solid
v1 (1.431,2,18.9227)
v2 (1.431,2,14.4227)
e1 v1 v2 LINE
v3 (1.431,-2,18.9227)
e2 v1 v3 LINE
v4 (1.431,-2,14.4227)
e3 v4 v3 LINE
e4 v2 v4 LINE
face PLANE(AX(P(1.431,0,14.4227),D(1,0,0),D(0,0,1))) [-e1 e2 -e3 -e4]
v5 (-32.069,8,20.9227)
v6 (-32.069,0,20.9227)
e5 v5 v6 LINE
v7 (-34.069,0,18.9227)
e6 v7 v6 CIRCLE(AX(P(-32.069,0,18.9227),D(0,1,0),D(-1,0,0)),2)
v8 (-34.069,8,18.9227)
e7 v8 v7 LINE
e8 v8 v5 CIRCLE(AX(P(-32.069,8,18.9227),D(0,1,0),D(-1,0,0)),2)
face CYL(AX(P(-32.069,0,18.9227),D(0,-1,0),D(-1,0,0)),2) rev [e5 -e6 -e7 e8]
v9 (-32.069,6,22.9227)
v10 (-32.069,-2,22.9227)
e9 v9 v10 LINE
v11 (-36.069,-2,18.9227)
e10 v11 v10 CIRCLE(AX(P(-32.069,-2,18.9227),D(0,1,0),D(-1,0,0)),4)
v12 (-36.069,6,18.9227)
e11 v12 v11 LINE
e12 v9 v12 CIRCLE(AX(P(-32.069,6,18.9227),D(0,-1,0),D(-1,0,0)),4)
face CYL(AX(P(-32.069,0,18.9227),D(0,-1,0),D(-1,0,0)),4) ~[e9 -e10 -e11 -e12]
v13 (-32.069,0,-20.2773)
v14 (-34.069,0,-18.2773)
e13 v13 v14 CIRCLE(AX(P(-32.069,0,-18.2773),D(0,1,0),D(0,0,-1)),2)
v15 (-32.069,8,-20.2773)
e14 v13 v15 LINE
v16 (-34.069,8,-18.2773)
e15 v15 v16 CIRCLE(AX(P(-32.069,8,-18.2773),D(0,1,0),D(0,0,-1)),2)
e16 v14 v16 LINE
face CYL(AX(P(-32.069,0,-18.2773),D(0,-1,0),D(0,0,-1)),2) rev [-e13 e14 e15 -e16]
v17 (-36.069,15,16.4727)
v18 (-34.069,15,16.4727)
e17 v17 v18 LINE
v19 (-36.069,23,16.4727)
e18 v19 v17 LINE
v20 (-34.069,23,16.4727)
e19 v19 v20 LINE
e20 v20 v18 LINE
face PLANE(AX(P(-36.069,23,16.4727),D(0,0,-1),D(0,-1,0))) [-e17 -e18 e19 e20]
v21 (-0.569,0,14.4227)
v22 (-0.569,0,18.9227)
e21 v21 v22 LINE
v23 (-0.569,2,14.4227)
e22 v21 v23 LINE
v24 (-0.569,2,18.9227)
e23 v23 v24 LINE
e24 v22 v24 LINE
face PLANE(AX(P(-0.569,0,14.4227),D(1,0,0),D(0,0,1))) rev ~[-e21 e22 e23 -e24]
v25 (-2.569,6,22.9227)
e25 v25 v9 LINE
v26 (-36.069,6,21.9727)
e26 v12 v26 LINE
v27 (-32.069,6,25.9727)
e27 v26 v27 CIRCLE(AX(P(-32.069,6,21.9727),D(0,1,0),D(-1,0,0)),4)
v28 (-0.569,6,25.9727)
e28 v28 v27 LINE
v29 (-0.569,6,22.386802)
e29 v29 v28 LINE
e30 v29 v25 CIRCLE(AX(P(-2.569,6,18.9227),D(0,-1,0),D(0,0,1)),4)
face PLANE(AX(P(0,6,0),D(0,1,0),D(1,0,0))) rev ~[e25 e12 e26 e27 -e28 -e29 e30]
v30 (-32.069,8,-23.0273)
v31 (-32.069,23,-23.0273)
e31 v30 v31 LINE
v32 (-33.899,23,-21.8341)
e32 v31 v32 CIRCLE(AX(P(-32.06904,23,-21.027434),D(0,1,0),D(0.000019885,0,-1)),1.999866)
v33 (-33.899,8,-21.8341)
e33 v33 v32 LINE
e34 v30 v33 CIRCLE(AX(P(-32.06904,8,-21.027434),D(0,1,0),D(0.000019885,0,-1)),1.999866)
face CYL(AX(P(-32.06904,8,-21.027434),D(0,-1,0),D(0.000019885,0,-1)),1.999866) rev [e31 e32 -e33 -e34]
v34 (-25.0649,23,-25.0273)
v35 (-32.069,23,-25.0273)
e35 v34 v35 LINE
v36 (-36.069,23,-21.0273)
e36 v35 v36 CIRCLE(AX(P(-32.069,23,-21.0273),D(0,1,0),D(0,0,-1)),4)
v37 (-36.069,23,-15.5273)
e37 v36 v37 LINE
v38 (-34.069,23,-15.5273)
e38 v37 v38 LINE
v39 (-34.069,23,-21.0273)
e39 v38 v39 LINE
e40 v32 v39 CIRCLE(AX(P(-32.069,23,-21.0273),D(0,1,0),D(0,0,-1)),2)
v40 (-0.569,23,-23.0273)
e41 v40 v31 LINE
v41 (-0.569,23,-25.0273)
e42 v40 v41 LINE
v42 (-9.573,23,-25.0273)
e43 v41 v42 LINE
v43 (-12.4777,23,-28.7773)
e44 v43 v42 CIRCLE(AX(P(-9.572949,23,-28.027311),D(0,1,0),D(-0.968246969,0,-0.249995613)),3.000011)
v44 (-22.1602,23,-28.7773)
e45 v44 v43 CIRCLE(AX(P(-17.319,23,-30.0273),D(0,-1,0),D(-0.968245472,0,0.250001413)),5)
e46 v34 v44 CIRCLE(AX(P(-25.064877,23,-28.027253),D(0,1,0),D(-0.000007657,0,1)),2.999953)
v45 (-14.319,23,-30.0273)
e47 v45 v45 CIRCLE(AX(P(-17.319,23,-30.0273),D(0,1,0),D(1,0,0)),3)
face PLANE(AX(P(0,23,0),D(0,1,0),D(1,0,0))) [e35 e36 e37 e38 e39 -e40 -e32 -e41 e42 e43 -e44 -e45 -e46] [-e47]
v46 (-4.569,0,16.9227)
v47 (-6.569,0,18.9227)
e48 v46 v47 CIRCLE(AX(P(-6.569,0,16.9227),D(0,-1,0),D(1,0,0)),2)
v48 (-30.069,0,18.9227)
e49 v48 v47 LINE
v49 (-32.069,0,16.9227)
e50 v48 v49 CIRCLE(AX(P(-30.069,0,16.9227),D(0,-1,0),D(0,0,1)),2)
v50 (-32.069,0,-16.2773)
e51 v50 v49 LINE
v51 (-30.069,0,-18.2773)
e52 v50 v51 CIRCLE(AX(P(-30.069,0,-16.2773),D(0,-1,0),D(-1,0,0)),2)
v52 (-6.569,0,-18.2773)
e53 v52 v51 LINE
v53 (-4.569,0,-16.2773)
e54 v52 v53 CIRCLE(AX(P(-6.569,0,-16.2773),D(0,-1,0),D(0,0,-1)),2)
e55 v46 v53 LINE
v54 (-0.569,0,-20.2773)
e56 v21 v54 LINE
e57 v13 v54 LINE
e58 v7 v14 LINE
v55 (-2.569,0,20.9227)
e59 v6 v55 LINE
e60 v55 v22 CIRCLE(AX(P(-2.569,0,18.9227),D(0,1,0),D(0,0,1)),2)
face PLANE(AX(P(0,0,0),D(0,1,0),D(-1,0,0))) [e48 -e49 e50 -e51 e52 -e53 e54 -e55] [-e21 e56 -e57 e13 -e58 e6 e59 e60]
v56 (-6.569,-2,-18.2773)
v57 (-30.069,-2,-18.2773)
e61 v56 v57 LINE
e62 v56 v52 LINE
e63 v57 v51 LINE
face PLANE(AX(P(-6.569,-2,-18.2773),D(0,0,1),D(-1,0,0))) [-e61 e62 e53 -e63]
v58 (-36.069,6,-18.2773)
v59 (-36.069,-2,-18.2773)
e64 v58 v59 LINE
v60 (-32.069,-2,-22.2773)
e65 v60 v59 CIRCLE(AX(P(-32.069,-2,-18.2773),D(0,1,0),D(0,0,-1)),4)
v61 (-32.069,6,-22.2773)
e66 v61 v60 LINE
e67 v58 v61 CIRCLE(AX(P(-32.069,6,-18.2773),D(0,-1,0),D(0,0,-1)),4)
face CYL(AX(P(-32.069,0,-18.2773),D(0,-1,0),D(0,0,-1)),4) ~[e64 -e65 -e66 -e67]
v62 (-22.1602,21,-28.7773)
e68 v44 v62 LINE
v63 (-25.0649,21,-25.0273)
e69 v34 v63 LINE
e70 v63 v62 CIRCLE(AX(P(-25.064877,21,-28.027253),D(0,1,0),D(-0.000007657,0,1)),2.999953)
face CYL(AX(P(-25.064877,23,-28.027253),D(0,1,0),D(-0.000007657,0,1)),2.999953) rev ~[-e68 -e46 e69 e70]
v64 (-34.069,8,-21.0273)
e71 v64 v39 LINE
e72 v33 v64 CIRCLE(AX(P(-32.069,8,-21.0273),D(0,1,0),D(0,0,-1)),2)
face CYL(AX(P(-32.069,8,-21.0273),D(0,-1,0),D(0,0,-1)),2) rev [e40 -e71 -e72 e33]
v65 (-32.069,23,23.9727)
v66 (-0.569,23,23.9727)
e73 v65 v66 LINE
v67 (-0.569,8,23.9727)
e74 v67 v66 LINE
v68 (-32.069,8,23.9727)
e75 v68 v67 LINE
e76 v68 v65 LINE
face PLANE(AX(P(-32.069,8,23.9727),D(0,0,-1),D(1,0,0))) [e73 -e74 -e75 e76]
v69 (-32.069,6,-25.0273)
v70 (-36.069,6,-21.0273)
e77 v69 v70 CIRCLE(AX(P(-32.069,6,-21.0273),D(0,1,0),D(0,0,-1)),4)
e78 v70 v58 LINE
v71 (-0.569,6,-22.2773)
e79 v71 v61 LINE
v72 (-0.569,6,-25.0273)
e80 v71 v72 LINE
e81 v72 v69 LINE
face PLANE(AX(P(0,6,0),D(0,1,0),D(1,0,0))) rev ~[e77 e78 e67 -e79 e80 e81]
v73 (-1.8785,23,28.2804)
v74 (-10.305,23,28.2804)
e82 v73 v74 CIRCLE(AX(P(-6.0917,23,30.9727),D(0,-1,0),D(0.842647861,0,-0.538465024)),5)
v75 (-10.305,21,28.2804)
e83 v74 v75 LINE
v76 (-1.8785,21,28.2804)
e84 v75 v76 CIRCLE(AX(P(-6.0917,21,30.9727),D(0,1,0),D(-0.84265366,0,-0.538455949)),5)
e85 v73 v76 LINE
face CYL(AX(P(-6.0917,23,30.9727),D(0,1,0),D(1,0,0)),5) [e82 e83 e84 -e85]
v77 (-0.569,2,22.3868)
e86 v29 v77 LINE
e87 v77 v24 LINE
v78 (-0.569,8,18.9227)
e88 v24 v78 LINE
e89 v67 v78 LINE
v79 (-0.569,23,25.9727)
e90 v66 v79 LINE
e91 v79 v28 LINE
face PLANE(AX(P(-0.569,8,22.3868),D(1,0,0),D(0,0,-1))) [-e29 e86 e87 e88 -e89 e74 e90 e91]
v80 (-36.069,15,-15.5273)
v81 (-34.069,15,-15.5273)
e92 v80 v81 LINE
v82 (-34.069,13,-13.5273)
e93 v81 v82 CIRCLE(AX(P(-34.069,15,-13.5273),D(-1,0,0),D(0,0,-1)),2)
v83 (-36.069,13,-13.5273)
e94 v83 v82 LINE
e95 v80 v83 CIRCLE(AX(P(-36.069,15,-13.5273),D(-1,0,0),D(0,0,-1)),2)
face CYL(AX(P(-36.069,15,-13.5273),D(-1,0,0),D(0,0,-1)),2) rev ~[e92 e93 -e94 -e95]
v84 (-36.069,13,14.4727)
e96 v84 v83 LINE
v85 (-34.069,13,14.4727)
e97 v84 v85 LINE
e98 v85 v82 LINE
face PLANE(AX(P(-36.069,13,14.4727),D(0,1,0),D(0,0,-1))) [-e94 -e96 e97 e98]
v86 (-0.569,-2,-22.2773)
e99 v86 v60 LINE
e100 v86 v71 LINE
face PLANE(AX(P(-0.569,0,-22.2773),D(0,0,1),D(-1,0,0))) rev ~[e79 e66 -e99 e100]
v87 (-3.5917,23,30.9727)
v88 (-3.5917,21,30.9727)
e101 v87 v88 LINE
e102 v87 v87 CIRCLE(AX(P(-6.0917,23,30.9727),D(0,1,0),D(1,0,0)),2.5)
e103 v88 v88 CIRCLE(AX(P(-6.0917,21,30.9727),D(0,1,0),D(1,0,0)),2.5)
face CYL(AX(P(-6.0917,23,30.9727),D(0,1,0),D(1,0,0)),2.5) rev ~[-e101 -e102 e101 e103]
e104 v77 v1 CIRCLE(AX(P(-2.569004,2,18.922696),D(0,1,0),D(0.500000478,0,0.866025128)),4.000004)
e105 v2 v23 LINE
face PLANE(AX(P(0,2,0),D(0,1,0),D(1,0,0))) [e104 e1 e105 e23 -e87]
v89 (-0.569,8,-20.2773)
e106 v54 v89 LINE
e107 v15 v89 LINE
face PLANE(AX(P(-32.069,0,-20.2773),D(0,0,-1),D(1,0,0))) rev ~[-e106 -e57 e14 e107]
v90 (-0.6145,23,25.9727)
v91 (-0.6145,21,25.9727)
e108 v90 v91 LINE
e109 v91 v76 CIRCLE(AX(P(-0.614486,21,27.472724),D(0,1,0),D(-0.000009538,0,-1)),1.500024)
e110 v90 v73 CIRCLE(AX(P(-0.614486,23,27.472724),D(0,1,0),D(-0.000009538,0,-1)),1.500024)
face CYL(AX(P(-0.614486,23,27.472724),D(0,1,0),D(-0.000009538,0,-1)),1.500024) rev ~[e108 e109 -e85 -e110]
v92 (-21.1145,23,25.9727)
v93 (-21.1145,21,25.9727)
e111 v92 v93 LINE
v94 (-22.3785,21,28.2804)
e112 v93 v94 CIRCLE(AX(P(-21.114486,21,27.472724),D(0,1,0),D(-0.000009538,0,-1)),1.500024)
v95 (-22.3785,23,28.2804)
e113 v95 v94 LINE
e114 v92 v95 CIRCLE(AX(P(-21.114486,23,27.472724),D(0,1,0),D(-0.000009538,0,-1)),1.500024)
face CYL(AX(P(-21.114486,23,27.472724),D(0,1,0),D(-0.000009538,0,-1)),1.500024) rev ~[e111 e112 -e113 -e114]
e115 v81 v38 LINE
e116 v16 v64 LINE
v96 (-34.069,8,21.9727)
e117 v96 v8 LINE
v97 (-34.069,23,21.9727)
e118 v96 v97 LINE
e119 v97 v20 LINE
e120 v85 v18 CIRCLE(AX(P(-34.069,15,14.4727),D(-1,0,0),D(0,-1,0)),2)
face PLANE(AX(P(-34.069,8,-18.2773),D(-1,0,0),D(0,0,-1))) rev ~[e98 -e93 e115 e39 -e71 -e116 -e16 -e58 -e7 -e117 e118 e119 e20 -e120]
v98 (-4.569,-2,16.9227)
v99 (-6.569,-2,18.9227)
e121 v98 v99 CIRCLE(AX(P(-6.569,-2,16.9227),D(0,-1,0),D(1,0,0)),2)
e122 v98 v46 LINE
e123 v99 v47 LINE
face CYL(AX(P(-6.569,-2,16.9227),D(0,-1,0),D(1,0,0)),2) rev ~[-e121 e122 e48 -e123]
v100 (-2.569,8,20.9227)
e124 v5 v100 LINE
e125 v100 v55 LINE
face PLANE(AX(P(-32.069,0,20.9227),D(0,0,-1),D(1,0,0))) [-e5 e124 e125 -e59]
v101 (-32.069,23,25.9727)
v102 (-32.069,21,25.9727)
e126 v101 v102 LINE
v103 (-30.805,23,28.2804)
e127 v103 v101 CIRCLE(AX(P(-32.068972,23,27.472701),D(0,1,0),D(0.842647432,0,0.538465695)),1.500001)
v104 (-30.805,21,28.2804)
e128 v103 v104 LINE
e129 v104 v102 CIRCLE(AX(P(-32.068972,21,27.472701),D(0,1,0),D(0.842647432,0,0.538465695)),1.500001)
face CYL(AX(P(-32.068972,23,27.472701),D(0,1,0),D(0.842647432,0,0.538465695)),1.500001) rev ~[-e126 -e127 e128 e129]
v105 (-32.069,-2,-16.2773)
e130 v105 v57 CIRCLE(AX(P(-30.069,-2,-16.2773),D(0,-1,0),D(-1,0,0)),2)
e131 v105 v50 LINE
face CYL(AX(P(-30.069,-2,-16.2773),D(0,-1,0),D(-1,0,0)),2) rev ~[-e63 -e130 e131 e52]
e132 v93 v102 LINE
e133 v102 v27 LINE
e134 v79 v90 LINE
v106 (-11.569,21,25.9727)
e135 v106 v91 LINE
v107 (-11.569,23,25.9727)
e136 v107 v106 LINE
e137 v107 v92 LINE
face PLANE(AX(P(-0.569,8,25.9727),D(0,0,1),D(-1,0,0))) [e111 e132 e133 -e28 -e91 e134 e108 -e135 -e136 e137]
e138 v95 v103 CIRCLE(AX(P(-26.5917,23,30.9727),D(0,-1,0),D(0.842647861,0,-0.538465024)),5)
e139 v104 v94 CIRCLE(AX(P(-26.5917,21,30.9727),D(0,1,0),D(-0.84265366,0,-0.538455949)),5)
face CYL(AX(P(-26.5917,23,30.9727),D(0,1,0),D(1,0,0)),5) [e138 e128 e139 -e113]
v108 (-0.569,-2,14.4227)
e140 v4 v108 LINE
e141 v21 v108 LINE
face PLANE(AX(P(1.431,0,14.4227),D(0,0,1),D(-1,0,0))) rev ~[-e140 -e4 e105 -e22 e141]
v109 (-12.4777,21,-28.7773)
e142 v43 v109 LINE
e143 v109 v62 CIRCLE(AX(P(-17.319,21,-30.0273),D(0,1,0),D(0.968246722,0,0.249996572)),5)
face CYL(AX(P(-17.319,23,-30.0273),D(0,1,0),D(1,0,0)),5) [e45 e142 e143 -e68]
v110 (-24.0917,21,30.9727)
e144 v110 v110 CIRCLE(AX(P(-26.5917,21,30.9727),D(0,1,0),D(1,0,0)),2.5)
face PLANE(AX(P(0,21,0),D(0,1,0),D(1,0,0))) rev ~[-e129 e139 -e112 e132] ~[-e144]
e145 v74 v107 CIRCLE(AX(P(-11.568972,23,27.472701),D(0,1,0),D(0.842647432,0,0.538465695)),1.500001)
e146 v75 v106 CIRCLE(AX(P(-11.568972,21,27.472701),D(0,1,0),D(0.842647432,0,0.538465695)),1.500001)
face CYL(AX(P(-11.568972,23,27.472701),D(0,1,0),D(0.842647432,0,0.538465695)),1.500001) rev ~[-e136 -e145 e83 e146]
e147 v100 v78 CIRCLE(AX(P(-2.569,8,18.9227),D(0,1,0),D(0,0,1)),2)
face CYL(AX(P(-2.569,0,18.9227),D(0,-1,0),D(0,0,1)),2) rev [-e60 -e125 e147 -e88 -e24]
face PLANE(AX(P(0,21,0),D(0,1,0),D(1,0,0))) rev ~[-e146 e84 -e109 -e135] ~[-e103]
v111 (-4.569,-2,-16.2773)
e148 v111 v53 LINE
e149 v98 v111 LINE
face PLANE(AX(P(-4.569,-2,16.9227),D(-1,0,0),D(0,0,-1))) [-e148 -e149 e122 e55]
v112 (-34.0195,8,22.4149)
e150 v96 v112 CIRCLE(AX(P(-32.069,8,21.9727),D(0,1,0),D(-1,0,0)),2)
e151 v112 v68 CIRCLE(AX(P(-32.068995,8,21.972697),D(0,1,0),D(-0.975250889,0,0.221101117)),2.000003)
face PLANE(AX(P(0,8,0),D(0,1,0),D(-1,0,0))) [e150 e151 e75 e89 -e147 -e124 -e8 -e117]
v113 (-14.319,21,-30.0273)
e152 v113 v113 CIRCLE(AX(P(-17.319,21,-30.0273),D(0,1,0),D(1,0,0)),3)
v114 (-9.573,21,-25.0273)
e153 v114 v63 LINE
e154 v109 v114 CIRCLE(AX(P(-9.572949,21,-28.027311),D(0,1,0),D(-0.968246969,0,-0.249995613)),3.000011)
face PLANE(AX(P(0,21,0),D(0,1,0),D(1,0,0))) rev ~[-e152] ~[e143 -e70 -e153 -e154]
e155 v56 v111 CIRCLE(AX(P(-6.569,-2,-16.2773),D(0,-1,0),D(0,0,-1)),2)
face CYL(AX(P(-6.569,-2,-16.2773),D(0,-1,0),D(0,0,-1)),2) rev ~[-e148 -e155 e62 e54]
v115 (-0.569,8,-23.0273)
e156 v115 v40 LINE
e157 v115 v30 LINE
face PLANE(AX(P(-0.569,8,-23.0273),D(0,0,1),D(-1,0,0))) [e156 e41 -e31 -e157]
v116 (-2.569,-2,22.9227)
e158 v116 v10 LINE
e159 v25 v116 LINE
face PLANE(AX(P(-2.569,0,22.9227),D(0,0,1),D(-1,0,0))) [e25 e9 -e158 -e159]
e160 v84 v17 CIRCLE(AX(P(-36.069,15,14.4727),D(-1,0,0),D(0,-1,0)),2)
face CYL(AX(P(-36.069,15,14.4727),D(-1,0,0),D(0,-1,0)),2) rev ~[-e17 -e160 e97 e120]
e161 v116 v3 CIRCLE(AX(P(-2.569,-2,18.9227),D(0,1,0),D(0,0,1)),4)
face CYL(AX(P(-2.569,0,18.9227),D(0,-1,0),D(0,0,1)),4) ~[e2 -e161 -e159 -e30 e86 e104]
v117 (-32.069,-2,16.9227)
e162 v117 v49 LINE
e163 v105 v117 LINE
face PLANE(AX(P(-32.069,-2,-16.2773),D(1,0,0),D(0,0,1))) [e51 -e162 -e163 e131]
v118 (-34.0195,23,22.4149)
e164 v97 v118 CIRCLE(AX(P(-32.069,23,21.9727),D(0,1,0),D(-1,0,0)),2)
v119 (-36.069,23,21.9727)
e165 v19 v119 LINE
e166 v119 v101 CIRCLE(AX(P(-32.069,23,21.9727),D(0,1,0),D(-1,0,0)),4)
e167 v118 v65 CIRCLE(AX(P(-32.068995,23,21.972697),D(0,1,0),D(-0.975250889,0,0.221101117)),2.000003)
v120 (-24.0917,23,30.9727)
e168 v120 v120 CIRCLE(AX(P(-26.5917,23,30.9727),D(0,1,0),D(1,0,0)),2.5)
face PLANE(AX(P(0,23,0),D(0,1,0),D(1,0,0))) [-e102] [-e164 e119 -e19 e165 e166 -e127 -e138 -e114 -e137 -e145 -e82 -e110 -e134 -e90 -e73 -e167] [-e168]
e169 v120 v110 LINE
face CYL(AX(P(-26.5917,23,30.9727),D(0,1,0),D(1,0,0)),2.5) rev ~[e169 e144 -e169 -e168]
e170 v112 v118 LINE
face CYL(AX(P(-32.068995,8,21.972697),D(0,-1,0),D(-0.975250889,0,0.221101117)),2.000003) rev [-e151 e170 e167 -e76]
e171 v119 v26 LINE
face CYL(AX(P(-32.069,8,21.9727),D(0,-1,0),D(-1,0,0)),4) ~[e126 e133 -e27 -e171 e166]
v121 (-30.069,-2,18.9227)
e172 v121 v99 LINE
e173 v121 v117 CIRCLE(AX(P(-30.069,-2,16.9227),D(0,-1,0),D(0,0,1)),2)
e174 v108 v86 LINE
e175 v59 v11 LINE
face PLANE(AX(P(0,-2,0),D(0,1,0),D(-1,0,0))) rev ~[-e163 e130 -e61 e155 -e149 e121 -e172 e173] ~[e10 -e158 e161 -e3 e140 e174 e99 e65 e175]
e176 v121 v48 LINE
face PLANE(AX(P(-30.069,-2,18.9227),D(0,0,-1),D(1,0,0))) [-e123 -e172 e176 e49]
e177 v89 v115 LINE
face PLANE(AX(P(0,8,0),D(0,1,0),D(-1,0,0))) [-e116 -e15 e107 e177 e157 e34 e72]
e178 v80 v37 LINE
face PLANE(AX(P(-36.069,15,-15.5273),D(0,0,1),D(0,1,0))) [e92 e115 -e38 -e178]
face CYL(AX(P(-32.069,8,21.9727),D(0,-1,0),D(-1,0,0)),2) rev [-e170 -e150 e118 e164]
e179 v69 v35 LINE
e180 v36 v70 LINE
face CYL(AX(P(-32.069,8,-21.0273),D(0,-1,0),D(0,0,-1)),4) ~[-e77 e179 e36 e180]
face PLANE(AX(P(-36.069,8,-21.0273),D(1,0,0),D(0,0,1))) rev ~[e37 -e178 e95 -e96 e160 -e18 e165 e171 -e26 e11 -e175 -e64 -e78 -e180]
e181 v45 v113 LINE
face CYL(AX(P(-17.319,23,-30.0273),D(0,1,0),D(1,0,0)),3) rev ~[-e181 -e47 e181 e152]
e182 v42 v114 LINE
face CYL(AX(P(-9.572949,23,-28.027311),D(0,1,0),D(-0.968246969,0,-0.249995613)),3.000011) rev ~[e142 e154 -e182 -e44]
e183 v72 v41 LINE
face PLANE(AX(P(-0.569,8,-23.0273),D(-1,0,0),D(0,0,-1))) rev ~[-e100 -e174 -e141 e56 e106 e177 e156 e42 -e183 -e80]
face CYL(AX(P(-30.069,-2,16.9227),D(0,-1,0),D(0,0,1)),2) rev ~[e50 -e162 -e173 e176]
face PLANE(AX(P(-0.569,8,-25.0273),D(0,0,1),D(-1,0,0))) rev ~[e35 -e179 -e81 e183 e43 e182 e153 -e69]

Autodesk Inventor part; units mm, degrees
ref_plane "YZ Plane" through (0, 0, 0) normal (1, 0, 0) x (0, 1, 0)
ref_plane "XZ Plane" through (0, 0, 0) normal (0, 1, 0) x (-1, 0, 0)
sketch "Sketch1" plane through (0, 0, 0) normal (0, 1, 0) x (-1, 0, 0)
  arc A0 (31.569, 13.7227) -> (30.069, 12.2227) centre (31.569, 12.2227) ccw
  line L0 (31.569, 13.7227) -> (34.069, 13.7227)
  line L1 (34.069, 13.7227) -> (34.069, 18.9227)
  line L2 (32.069, 20.9227) -> (2.569, 20.9227)
  line L3 (34.069, -13.2773) -> (31.569, -13.2773)
  arc A1 (30.069, -11.7773) -> (31.569, -13.2773) centre (31.569, -11.7773) ccw
  arc A2 (34.069, 18.9227) -> (32.069, 20.9227) centre (32.069, 18.9227) ccw
  arc A3 (34.0195, 22.4149) -> (32.069, 23.9727) centre (32.069, 21.9727) ccw
  line L4 (32.069, 23.9727) -> (-23.931, 23.9727)
  arc A4 (-23.931, 23.9727) -> (-25.931, 21.9727) centre (-23.931, 21.9727) ccw
  line L5 (-25.931, 21.9727) -> (-25.931, -21.0273)
  arc A5 (-25.931, -21.0273) -> (-23.931, -23.0273) centre (-23.931, -21.0273) ccw
  line L6 (-23.931, -23.0273) -> (32.069, -23.0273)
  arc A6 (32.069, -23.0273) -> (33.899, -21.8341) centre (32.069, -21.0273) ccw
  arc A7 (32.069, -20.2773) -> (34.069, -18.2773) centre (32.069, -18.2773) ccw
  line L7 (32.069, -20.2773) -> (0.569, -20.2773)
  line L8 (34.069, -13.2773) -> (34.069, 13.7227)
  line L9 (0.569, -22.2773) -> (0.569, 18.9227)
  line L10 (30.069, -11.7773) -> (30.069, 12.2227)
  line L11 (34.069, -18.2773) -> (34.069, -13.2773)
  line L12 (2.569, 22.9227) -> (32.069, 22.9227)
  line L13 (0.569, -22.2773) -> (32.069, -22.2773)
  arc A8 (32.069, -22.2773) -> (36.069, -18.2773) centre (32.069, -18.2773) ccw
  line L14 (36.069, -18.2773) -> (36.069, 18.9227)
  arc A9 (2.569, 20.9227) -> (0.569, 18.9227) centre (2.569, 18.9227) ccw
  line L15 (-1.431, 14.4227) -> (-1.431, 18.9227)
  arc A10 (2.569, 22.9227) -> (-1.431, 18.9227) centre (2.569, 18.9227) ccw
  arc A11 (36.069, 18.9227) -> (32.069, 22.9227) centre (32.069, 18.9227) ccw
  line L16 (-1.431, 14.4227) -> (0.569, 14.4227)
  point P0 (0.569, 20.9227)
  dimension "d8" = 2
  dimension "d9" = 2
  dimension "d66" = 2
  dimension "d67" = 2
  dimension "d68" = 4.5
  dimension "d69" = 4
extrude "Extrusion3" add sketch "Sketch1" against normal blind 2 contours L0 L8 L3 A1 L10 A0 | A0 L10 A1 L3 L11 A7 L7 L9 A9 L2 A2 L1 L0 | L1 A2 L2 A9 L9 L16 L15 A10 L12 A11 L14 A8 L13 L7 A7 L11 L8
ref_plane "Work Plane1" through (0, 8, 0) normal (0, 1, 0) x (1, 0, 0)
extrude "Extrusion4" add sketch "Sketch1" along normal blind 8 contours L1 A2 L2 A9 L9 L16 L15 A10 L12 A11 L14 A8 L13 L7 A7 L11 L8
sketch "Sketch2" plane through (0, 8, 0) normal (0, 1, 0) x (1, 0, 0)
  line L0 (23.931, 23.0273) -> (-32.069, 23.0273) projected
  arc A0 (-32.069, 23.0273) -> (-33.899, 21.8341) centre (-32.069, 21.0273) ccw projected
  line L1 (-32.069, -23.9727) -> (23.931, -23.9727) projected
  arc A1 (-34.0195, -22.4149) -> (-32.069, -23.9727) centre (-32.069, -21.9727) ccw projected
  arc A2 (-32.069, 23.0273) -> (-34.069, 21.0273) centre (-32.069, 21.0273) ccw
  arc A3 (-34.069, -21.9727) -> (-32.069, -23.9727) centre (-32.069, -21.9727) ccw
  line L2 (-34.069, 18.2773) -> (-34.069, 13.2773) projected
  line L3 (-34.069, 13.2773) -> (-34.069, -13.7227) projected
  line L4 (-34.069, -13.7227) -> (-34.069, -18.9227) projected
  line L5 (-34.069, -21.9727) -> (-34.069, 21.0273)
  arc A4 (-32.069, 25.0273) -> (-36.069, 21.0273) centre (-32.069, 21.0273) ccw
  line L6 (-0.569, 25.0273) -> (-32.069, 25.0273)
  line L7 (-0.569, -25.9727) -> (-32.069, -25.9727)
  line L8 (-0.569, -23.9727) -> (-0.569, -25.9727)
  line L9 (-0.569, 20.2773) -> (-0.569, 25.0273)
  line L10 (-0.569, 22.2773) -> (-0.569, 22.2773) projected
  line L11 (-32.069, 23.0273) -> (-0.569, 23.0273)
  line L12 (-32.069, -23.9727) -> (-0.569, -23.9727)
  line L13 (-32.069, -20.9227) -> (-2.569, -20.9227) projected
  line L14 (-0.569, -14.4227) -> (-0.569, 20.2773) projected
  line L15 (-0.569, 20.2773) -> (-32.069, 20.2773) projected
  arc A5 (-32.069, 20.2773) -> (-34.069, 18.2773) centre (-32.069, 18.2773) ccw projected
  line L16 (-34.069, 18.2773) -> (-34.069, -18.9227) projected
  arc A6 (-34.069, -18.9227) -> (-32.069, -20.9227) centre (-32.069, -18.9227) ccw projected
  line L17 (-32.069, 22.2773) -> (-0.569, 22.2773) projected
  line L18 (-0.569, 22.2773) -> (-0.569, 22.2773)
  arc A7 (-2.569, -20.9227) -> (-0.569, -18.9227) centre (-2.569, -18.9227) ccw projected
  line L19 (-0.569, -18.9227) -> (-0.569, -14.4227) projected
  line L20 (-0.569, -23.9727) -> (-0.569, -18.9227)
  line L21 (-36.069, 21.0273) -> (-36.069, -21.9727)
  arc A8 (-36.069, -21.9727) -> (-32.069, -25.9727) centre (-32.069, -21.9727) ccw
  point P0 (0, 0)
  point P1 (-32.069, 25.0273)
  dimension "d19" = 2
  dimension "d20" = 2
  dimension "d21" = 31.5
  dimension "d22" = 31.5
  dimension "d23" = 31.5
extrude "Extrusion7" add sketch "Sketch2" against normal blind 2 contours L9 L15 A5 L5 A2 A0 L0 | L0 A0 A2 L5 L2 L3 L4 A3 A1 L1 L8 L7 A8 L21 A4 L6 L9 | L20 L1 A1 A3 L5 A6 L13 A7
extrude "Extrusion8" add sketch "Sketch2" along normal blind 15 contours L0 A0 A2 L5 L2 L3 L4 A3 A1 L1 L8 L7 A8 L21 A4 L6 L9
sketch "Sketch5" plane through (0, 23, 0) normal (0, 1, 0) x (1, 0, 0)
  circle A0 centre (-17.319, 30.0273) radius 5
  circle A1 centre (-17.319, 30.0273) radius 3
  arc A2 (-12.4777, 28.7773) -> (-9.573, 25.0273) centre (-9.573, 28.0273) ccw
  arc A3 (-25.0649, 25.0273) -> (-22.1602, 28.7773) centre (-25.0649, 28.0273) ccw
  line L0 (-0.569, 23.0273) -> (-0.569, 25.0273) projected
  circle A4 centre (-6.0917, -30.9727) radius 5
  circle A5 centre (-6.0917, -30.9727) radius 2.5
  arc A6 (-10.305, -28.2804) -> (-11.569, -25.9727) centre (-11.569, -27.4727) ccw
  arc A7 (-0.6145, -25.9727) -> (-1.8785, -28.2804) centre (-0.6145, -27.4727) ccw
  circle A8 centre (-26.5917, -30.9727) radius 5
  circle A9 centre (-26.5917, -30.9727) radius 2.5
  arc A10 (-30.805, -28.2804) -> (-32.069, -25.9727) centre (-32.069, -27.4727) ccw
  arc A11 (-21.1145, -25.9727) -> (-22.3785, -28.2804) centre (-21.1145, -27.4727) ccw
  line L1 (-0.569, -25.9727) -> (-0.569, -23.9727) projected
  line L2 (-0.569, 25.0273) -> (-32.069, 25.0273) projected
  line L3 (-32.069, -25.9727) -> (-0.569, -25.9727) projected
  point P0 (0, 0)
  point P1 (1.0185, -24.3852)
  point P2 (-26.5917, -25.9727)
  point P3 (-6.0917, -25.9727)
  point P4 (-17.319, 25.0273)
  dimension "d34" = 10
  dimension "d35" = 6
  dimension "d38" = 3
  dimension "d39" = 3
  dimension "d40" = 10
  dimension "d41" = 5
  dimension "d42" = 3
  dimension "d43" = 3
  dimension "d44" = 10
  dimension "d45" = 5
  dimension "d46" = 3
  dimension "d47" = 3
  dimension "d49" = 20.5
extrude "Extrusion10" add sketch "Sketch5" against normal blind 2
sketch "Sketch6" plane through (0, -2, 0) normal (0, -1, 0) x (1, 0, 0)
  line L0 (-0.569, -22.2773) -> (-0.569, 14.4227) projected
  line L1 (-2.569, 22.9227) -> (-32.069, 22.9227) projected
  arc A0 (-32.069, 22.9227) -> (-36.069, 18.9227) centre (-32.069, 18.9227) ccw projected
  line L2 (-36.069, 18.9227) -> (-36.069, -18.2773) projected
  arc A1 (-36.069, -18.2773) -> (-32.069, -22.2773) centre (-32.069, -18.2773) ccw projected
  line L3 (-32.069, -22.2773) -> (-0.569, -22.2773) projected
  line L4 (-30.069, 18.9227) -> (-6.569, 18.9227)
  line L5 (-4.569, 16.9227) -> (-4.569, -16.2773)
  line L6 (-6.569, -18.2773) -> (-30.069, -18.2773)
  line L7 (-32.069, -16.2773) -> (-32.069, 16.9227)
  arc A2 (-6.569, -18.2773) -> (-4.569, -16.2773) centre (-6.569, -16.2773) ccw
  arc A3 (-32.069, -16.2773) -> (-30.069, -18.2773) centre (-30.069, -16.2773) ccw
  arc A4 (-30.069, 18.9227) -> (-32.069, 16.9227) centre (-30.069, 16.9227) ccw
  arc A5 (-4.569, 16.9227) -> (-6.569, 18.9227) centre (-6.569, 16.9227) ccw
  line L8 (-0.569, 14.4227) -> (1.431, 14.4227) projected
  line L9 (1.431, 14.4227) -> (1.431, 18.9227) projected
  arc A6 (1.431, 18.9227) -> (-2.569, 22.9227) centre (-2.569, 18.9227) ccw projected
  point P0 (0, 0)
  point P1 (-4.569, 18.9227)
  point P2 (-4.569, -18.2773)
  dimension "d52" = 4
  dimension "d53" = 37.2
  dimension "d54" = 27.5
  dimension "d55" = 4
  dimension "d56" = 2
extrude "Extrusion11" cut sketch "Sketch6" against normal blind 2 contours L4 A5 L5 A2 L6 A3 L7 A4
sketch "Sketch7" plane through (-36.069, -2, -18.2773) normal (-1, 0, 0) x (0, 0, 1)
  line L0 (2.75, 25) -> (34.75, 25)
  line L1 (34.75, 25) -> (34.75, 17)
  line L2 (32.75, 15) -> (4.75, 15)
  line L3 (2.75, 17) -> (2.75, 25)
  arc A0 (2.75, 17) -> (4.75, 15) centre (4.75, 17) ccw
  arc A1 (32.75, 15) -> (34.75, 17) centre (32.75, 17) ccw
  point P0 (18.2773, 2)
  point P1 (40.25, 25)
  point P2 (-2.75, 25)
  point P3 (34.75, 21)
  point P4 (40.25, 8)
  dimension "d59" = 2
  dimension "d61" = 32
  dimension "d62" = 43
extrude "Extrusion12" cut sketch "Sketch7" against normal blind 6
sketch "Sketch8" plane through (0, 8, 0) normal (0, 1, 0) x (1, 0, 0)
  line L0 (-0.569, -14.4227) -> (-0.569, -18.9227) projected
  line L1 (1.431, -14.4227) -> (-0.569, -14.4227) projected
  line L2 (1.431, -18.9227) -> (1.431, -14.4227) projected
  arc A0 (-0.569, -22.3868) -> (1.431, -18.9227) centre (-2.569, -18.9227) ccw projected
  line L3 (-0.569, -23.9727) -> (-0.569, -18.9227) projected
  point P0 (0, 0)
extrude "Extrusion13" cut sketch "Sketch8" against normal blind 6
properties part number "CO-1-01-motorControllersMount"
